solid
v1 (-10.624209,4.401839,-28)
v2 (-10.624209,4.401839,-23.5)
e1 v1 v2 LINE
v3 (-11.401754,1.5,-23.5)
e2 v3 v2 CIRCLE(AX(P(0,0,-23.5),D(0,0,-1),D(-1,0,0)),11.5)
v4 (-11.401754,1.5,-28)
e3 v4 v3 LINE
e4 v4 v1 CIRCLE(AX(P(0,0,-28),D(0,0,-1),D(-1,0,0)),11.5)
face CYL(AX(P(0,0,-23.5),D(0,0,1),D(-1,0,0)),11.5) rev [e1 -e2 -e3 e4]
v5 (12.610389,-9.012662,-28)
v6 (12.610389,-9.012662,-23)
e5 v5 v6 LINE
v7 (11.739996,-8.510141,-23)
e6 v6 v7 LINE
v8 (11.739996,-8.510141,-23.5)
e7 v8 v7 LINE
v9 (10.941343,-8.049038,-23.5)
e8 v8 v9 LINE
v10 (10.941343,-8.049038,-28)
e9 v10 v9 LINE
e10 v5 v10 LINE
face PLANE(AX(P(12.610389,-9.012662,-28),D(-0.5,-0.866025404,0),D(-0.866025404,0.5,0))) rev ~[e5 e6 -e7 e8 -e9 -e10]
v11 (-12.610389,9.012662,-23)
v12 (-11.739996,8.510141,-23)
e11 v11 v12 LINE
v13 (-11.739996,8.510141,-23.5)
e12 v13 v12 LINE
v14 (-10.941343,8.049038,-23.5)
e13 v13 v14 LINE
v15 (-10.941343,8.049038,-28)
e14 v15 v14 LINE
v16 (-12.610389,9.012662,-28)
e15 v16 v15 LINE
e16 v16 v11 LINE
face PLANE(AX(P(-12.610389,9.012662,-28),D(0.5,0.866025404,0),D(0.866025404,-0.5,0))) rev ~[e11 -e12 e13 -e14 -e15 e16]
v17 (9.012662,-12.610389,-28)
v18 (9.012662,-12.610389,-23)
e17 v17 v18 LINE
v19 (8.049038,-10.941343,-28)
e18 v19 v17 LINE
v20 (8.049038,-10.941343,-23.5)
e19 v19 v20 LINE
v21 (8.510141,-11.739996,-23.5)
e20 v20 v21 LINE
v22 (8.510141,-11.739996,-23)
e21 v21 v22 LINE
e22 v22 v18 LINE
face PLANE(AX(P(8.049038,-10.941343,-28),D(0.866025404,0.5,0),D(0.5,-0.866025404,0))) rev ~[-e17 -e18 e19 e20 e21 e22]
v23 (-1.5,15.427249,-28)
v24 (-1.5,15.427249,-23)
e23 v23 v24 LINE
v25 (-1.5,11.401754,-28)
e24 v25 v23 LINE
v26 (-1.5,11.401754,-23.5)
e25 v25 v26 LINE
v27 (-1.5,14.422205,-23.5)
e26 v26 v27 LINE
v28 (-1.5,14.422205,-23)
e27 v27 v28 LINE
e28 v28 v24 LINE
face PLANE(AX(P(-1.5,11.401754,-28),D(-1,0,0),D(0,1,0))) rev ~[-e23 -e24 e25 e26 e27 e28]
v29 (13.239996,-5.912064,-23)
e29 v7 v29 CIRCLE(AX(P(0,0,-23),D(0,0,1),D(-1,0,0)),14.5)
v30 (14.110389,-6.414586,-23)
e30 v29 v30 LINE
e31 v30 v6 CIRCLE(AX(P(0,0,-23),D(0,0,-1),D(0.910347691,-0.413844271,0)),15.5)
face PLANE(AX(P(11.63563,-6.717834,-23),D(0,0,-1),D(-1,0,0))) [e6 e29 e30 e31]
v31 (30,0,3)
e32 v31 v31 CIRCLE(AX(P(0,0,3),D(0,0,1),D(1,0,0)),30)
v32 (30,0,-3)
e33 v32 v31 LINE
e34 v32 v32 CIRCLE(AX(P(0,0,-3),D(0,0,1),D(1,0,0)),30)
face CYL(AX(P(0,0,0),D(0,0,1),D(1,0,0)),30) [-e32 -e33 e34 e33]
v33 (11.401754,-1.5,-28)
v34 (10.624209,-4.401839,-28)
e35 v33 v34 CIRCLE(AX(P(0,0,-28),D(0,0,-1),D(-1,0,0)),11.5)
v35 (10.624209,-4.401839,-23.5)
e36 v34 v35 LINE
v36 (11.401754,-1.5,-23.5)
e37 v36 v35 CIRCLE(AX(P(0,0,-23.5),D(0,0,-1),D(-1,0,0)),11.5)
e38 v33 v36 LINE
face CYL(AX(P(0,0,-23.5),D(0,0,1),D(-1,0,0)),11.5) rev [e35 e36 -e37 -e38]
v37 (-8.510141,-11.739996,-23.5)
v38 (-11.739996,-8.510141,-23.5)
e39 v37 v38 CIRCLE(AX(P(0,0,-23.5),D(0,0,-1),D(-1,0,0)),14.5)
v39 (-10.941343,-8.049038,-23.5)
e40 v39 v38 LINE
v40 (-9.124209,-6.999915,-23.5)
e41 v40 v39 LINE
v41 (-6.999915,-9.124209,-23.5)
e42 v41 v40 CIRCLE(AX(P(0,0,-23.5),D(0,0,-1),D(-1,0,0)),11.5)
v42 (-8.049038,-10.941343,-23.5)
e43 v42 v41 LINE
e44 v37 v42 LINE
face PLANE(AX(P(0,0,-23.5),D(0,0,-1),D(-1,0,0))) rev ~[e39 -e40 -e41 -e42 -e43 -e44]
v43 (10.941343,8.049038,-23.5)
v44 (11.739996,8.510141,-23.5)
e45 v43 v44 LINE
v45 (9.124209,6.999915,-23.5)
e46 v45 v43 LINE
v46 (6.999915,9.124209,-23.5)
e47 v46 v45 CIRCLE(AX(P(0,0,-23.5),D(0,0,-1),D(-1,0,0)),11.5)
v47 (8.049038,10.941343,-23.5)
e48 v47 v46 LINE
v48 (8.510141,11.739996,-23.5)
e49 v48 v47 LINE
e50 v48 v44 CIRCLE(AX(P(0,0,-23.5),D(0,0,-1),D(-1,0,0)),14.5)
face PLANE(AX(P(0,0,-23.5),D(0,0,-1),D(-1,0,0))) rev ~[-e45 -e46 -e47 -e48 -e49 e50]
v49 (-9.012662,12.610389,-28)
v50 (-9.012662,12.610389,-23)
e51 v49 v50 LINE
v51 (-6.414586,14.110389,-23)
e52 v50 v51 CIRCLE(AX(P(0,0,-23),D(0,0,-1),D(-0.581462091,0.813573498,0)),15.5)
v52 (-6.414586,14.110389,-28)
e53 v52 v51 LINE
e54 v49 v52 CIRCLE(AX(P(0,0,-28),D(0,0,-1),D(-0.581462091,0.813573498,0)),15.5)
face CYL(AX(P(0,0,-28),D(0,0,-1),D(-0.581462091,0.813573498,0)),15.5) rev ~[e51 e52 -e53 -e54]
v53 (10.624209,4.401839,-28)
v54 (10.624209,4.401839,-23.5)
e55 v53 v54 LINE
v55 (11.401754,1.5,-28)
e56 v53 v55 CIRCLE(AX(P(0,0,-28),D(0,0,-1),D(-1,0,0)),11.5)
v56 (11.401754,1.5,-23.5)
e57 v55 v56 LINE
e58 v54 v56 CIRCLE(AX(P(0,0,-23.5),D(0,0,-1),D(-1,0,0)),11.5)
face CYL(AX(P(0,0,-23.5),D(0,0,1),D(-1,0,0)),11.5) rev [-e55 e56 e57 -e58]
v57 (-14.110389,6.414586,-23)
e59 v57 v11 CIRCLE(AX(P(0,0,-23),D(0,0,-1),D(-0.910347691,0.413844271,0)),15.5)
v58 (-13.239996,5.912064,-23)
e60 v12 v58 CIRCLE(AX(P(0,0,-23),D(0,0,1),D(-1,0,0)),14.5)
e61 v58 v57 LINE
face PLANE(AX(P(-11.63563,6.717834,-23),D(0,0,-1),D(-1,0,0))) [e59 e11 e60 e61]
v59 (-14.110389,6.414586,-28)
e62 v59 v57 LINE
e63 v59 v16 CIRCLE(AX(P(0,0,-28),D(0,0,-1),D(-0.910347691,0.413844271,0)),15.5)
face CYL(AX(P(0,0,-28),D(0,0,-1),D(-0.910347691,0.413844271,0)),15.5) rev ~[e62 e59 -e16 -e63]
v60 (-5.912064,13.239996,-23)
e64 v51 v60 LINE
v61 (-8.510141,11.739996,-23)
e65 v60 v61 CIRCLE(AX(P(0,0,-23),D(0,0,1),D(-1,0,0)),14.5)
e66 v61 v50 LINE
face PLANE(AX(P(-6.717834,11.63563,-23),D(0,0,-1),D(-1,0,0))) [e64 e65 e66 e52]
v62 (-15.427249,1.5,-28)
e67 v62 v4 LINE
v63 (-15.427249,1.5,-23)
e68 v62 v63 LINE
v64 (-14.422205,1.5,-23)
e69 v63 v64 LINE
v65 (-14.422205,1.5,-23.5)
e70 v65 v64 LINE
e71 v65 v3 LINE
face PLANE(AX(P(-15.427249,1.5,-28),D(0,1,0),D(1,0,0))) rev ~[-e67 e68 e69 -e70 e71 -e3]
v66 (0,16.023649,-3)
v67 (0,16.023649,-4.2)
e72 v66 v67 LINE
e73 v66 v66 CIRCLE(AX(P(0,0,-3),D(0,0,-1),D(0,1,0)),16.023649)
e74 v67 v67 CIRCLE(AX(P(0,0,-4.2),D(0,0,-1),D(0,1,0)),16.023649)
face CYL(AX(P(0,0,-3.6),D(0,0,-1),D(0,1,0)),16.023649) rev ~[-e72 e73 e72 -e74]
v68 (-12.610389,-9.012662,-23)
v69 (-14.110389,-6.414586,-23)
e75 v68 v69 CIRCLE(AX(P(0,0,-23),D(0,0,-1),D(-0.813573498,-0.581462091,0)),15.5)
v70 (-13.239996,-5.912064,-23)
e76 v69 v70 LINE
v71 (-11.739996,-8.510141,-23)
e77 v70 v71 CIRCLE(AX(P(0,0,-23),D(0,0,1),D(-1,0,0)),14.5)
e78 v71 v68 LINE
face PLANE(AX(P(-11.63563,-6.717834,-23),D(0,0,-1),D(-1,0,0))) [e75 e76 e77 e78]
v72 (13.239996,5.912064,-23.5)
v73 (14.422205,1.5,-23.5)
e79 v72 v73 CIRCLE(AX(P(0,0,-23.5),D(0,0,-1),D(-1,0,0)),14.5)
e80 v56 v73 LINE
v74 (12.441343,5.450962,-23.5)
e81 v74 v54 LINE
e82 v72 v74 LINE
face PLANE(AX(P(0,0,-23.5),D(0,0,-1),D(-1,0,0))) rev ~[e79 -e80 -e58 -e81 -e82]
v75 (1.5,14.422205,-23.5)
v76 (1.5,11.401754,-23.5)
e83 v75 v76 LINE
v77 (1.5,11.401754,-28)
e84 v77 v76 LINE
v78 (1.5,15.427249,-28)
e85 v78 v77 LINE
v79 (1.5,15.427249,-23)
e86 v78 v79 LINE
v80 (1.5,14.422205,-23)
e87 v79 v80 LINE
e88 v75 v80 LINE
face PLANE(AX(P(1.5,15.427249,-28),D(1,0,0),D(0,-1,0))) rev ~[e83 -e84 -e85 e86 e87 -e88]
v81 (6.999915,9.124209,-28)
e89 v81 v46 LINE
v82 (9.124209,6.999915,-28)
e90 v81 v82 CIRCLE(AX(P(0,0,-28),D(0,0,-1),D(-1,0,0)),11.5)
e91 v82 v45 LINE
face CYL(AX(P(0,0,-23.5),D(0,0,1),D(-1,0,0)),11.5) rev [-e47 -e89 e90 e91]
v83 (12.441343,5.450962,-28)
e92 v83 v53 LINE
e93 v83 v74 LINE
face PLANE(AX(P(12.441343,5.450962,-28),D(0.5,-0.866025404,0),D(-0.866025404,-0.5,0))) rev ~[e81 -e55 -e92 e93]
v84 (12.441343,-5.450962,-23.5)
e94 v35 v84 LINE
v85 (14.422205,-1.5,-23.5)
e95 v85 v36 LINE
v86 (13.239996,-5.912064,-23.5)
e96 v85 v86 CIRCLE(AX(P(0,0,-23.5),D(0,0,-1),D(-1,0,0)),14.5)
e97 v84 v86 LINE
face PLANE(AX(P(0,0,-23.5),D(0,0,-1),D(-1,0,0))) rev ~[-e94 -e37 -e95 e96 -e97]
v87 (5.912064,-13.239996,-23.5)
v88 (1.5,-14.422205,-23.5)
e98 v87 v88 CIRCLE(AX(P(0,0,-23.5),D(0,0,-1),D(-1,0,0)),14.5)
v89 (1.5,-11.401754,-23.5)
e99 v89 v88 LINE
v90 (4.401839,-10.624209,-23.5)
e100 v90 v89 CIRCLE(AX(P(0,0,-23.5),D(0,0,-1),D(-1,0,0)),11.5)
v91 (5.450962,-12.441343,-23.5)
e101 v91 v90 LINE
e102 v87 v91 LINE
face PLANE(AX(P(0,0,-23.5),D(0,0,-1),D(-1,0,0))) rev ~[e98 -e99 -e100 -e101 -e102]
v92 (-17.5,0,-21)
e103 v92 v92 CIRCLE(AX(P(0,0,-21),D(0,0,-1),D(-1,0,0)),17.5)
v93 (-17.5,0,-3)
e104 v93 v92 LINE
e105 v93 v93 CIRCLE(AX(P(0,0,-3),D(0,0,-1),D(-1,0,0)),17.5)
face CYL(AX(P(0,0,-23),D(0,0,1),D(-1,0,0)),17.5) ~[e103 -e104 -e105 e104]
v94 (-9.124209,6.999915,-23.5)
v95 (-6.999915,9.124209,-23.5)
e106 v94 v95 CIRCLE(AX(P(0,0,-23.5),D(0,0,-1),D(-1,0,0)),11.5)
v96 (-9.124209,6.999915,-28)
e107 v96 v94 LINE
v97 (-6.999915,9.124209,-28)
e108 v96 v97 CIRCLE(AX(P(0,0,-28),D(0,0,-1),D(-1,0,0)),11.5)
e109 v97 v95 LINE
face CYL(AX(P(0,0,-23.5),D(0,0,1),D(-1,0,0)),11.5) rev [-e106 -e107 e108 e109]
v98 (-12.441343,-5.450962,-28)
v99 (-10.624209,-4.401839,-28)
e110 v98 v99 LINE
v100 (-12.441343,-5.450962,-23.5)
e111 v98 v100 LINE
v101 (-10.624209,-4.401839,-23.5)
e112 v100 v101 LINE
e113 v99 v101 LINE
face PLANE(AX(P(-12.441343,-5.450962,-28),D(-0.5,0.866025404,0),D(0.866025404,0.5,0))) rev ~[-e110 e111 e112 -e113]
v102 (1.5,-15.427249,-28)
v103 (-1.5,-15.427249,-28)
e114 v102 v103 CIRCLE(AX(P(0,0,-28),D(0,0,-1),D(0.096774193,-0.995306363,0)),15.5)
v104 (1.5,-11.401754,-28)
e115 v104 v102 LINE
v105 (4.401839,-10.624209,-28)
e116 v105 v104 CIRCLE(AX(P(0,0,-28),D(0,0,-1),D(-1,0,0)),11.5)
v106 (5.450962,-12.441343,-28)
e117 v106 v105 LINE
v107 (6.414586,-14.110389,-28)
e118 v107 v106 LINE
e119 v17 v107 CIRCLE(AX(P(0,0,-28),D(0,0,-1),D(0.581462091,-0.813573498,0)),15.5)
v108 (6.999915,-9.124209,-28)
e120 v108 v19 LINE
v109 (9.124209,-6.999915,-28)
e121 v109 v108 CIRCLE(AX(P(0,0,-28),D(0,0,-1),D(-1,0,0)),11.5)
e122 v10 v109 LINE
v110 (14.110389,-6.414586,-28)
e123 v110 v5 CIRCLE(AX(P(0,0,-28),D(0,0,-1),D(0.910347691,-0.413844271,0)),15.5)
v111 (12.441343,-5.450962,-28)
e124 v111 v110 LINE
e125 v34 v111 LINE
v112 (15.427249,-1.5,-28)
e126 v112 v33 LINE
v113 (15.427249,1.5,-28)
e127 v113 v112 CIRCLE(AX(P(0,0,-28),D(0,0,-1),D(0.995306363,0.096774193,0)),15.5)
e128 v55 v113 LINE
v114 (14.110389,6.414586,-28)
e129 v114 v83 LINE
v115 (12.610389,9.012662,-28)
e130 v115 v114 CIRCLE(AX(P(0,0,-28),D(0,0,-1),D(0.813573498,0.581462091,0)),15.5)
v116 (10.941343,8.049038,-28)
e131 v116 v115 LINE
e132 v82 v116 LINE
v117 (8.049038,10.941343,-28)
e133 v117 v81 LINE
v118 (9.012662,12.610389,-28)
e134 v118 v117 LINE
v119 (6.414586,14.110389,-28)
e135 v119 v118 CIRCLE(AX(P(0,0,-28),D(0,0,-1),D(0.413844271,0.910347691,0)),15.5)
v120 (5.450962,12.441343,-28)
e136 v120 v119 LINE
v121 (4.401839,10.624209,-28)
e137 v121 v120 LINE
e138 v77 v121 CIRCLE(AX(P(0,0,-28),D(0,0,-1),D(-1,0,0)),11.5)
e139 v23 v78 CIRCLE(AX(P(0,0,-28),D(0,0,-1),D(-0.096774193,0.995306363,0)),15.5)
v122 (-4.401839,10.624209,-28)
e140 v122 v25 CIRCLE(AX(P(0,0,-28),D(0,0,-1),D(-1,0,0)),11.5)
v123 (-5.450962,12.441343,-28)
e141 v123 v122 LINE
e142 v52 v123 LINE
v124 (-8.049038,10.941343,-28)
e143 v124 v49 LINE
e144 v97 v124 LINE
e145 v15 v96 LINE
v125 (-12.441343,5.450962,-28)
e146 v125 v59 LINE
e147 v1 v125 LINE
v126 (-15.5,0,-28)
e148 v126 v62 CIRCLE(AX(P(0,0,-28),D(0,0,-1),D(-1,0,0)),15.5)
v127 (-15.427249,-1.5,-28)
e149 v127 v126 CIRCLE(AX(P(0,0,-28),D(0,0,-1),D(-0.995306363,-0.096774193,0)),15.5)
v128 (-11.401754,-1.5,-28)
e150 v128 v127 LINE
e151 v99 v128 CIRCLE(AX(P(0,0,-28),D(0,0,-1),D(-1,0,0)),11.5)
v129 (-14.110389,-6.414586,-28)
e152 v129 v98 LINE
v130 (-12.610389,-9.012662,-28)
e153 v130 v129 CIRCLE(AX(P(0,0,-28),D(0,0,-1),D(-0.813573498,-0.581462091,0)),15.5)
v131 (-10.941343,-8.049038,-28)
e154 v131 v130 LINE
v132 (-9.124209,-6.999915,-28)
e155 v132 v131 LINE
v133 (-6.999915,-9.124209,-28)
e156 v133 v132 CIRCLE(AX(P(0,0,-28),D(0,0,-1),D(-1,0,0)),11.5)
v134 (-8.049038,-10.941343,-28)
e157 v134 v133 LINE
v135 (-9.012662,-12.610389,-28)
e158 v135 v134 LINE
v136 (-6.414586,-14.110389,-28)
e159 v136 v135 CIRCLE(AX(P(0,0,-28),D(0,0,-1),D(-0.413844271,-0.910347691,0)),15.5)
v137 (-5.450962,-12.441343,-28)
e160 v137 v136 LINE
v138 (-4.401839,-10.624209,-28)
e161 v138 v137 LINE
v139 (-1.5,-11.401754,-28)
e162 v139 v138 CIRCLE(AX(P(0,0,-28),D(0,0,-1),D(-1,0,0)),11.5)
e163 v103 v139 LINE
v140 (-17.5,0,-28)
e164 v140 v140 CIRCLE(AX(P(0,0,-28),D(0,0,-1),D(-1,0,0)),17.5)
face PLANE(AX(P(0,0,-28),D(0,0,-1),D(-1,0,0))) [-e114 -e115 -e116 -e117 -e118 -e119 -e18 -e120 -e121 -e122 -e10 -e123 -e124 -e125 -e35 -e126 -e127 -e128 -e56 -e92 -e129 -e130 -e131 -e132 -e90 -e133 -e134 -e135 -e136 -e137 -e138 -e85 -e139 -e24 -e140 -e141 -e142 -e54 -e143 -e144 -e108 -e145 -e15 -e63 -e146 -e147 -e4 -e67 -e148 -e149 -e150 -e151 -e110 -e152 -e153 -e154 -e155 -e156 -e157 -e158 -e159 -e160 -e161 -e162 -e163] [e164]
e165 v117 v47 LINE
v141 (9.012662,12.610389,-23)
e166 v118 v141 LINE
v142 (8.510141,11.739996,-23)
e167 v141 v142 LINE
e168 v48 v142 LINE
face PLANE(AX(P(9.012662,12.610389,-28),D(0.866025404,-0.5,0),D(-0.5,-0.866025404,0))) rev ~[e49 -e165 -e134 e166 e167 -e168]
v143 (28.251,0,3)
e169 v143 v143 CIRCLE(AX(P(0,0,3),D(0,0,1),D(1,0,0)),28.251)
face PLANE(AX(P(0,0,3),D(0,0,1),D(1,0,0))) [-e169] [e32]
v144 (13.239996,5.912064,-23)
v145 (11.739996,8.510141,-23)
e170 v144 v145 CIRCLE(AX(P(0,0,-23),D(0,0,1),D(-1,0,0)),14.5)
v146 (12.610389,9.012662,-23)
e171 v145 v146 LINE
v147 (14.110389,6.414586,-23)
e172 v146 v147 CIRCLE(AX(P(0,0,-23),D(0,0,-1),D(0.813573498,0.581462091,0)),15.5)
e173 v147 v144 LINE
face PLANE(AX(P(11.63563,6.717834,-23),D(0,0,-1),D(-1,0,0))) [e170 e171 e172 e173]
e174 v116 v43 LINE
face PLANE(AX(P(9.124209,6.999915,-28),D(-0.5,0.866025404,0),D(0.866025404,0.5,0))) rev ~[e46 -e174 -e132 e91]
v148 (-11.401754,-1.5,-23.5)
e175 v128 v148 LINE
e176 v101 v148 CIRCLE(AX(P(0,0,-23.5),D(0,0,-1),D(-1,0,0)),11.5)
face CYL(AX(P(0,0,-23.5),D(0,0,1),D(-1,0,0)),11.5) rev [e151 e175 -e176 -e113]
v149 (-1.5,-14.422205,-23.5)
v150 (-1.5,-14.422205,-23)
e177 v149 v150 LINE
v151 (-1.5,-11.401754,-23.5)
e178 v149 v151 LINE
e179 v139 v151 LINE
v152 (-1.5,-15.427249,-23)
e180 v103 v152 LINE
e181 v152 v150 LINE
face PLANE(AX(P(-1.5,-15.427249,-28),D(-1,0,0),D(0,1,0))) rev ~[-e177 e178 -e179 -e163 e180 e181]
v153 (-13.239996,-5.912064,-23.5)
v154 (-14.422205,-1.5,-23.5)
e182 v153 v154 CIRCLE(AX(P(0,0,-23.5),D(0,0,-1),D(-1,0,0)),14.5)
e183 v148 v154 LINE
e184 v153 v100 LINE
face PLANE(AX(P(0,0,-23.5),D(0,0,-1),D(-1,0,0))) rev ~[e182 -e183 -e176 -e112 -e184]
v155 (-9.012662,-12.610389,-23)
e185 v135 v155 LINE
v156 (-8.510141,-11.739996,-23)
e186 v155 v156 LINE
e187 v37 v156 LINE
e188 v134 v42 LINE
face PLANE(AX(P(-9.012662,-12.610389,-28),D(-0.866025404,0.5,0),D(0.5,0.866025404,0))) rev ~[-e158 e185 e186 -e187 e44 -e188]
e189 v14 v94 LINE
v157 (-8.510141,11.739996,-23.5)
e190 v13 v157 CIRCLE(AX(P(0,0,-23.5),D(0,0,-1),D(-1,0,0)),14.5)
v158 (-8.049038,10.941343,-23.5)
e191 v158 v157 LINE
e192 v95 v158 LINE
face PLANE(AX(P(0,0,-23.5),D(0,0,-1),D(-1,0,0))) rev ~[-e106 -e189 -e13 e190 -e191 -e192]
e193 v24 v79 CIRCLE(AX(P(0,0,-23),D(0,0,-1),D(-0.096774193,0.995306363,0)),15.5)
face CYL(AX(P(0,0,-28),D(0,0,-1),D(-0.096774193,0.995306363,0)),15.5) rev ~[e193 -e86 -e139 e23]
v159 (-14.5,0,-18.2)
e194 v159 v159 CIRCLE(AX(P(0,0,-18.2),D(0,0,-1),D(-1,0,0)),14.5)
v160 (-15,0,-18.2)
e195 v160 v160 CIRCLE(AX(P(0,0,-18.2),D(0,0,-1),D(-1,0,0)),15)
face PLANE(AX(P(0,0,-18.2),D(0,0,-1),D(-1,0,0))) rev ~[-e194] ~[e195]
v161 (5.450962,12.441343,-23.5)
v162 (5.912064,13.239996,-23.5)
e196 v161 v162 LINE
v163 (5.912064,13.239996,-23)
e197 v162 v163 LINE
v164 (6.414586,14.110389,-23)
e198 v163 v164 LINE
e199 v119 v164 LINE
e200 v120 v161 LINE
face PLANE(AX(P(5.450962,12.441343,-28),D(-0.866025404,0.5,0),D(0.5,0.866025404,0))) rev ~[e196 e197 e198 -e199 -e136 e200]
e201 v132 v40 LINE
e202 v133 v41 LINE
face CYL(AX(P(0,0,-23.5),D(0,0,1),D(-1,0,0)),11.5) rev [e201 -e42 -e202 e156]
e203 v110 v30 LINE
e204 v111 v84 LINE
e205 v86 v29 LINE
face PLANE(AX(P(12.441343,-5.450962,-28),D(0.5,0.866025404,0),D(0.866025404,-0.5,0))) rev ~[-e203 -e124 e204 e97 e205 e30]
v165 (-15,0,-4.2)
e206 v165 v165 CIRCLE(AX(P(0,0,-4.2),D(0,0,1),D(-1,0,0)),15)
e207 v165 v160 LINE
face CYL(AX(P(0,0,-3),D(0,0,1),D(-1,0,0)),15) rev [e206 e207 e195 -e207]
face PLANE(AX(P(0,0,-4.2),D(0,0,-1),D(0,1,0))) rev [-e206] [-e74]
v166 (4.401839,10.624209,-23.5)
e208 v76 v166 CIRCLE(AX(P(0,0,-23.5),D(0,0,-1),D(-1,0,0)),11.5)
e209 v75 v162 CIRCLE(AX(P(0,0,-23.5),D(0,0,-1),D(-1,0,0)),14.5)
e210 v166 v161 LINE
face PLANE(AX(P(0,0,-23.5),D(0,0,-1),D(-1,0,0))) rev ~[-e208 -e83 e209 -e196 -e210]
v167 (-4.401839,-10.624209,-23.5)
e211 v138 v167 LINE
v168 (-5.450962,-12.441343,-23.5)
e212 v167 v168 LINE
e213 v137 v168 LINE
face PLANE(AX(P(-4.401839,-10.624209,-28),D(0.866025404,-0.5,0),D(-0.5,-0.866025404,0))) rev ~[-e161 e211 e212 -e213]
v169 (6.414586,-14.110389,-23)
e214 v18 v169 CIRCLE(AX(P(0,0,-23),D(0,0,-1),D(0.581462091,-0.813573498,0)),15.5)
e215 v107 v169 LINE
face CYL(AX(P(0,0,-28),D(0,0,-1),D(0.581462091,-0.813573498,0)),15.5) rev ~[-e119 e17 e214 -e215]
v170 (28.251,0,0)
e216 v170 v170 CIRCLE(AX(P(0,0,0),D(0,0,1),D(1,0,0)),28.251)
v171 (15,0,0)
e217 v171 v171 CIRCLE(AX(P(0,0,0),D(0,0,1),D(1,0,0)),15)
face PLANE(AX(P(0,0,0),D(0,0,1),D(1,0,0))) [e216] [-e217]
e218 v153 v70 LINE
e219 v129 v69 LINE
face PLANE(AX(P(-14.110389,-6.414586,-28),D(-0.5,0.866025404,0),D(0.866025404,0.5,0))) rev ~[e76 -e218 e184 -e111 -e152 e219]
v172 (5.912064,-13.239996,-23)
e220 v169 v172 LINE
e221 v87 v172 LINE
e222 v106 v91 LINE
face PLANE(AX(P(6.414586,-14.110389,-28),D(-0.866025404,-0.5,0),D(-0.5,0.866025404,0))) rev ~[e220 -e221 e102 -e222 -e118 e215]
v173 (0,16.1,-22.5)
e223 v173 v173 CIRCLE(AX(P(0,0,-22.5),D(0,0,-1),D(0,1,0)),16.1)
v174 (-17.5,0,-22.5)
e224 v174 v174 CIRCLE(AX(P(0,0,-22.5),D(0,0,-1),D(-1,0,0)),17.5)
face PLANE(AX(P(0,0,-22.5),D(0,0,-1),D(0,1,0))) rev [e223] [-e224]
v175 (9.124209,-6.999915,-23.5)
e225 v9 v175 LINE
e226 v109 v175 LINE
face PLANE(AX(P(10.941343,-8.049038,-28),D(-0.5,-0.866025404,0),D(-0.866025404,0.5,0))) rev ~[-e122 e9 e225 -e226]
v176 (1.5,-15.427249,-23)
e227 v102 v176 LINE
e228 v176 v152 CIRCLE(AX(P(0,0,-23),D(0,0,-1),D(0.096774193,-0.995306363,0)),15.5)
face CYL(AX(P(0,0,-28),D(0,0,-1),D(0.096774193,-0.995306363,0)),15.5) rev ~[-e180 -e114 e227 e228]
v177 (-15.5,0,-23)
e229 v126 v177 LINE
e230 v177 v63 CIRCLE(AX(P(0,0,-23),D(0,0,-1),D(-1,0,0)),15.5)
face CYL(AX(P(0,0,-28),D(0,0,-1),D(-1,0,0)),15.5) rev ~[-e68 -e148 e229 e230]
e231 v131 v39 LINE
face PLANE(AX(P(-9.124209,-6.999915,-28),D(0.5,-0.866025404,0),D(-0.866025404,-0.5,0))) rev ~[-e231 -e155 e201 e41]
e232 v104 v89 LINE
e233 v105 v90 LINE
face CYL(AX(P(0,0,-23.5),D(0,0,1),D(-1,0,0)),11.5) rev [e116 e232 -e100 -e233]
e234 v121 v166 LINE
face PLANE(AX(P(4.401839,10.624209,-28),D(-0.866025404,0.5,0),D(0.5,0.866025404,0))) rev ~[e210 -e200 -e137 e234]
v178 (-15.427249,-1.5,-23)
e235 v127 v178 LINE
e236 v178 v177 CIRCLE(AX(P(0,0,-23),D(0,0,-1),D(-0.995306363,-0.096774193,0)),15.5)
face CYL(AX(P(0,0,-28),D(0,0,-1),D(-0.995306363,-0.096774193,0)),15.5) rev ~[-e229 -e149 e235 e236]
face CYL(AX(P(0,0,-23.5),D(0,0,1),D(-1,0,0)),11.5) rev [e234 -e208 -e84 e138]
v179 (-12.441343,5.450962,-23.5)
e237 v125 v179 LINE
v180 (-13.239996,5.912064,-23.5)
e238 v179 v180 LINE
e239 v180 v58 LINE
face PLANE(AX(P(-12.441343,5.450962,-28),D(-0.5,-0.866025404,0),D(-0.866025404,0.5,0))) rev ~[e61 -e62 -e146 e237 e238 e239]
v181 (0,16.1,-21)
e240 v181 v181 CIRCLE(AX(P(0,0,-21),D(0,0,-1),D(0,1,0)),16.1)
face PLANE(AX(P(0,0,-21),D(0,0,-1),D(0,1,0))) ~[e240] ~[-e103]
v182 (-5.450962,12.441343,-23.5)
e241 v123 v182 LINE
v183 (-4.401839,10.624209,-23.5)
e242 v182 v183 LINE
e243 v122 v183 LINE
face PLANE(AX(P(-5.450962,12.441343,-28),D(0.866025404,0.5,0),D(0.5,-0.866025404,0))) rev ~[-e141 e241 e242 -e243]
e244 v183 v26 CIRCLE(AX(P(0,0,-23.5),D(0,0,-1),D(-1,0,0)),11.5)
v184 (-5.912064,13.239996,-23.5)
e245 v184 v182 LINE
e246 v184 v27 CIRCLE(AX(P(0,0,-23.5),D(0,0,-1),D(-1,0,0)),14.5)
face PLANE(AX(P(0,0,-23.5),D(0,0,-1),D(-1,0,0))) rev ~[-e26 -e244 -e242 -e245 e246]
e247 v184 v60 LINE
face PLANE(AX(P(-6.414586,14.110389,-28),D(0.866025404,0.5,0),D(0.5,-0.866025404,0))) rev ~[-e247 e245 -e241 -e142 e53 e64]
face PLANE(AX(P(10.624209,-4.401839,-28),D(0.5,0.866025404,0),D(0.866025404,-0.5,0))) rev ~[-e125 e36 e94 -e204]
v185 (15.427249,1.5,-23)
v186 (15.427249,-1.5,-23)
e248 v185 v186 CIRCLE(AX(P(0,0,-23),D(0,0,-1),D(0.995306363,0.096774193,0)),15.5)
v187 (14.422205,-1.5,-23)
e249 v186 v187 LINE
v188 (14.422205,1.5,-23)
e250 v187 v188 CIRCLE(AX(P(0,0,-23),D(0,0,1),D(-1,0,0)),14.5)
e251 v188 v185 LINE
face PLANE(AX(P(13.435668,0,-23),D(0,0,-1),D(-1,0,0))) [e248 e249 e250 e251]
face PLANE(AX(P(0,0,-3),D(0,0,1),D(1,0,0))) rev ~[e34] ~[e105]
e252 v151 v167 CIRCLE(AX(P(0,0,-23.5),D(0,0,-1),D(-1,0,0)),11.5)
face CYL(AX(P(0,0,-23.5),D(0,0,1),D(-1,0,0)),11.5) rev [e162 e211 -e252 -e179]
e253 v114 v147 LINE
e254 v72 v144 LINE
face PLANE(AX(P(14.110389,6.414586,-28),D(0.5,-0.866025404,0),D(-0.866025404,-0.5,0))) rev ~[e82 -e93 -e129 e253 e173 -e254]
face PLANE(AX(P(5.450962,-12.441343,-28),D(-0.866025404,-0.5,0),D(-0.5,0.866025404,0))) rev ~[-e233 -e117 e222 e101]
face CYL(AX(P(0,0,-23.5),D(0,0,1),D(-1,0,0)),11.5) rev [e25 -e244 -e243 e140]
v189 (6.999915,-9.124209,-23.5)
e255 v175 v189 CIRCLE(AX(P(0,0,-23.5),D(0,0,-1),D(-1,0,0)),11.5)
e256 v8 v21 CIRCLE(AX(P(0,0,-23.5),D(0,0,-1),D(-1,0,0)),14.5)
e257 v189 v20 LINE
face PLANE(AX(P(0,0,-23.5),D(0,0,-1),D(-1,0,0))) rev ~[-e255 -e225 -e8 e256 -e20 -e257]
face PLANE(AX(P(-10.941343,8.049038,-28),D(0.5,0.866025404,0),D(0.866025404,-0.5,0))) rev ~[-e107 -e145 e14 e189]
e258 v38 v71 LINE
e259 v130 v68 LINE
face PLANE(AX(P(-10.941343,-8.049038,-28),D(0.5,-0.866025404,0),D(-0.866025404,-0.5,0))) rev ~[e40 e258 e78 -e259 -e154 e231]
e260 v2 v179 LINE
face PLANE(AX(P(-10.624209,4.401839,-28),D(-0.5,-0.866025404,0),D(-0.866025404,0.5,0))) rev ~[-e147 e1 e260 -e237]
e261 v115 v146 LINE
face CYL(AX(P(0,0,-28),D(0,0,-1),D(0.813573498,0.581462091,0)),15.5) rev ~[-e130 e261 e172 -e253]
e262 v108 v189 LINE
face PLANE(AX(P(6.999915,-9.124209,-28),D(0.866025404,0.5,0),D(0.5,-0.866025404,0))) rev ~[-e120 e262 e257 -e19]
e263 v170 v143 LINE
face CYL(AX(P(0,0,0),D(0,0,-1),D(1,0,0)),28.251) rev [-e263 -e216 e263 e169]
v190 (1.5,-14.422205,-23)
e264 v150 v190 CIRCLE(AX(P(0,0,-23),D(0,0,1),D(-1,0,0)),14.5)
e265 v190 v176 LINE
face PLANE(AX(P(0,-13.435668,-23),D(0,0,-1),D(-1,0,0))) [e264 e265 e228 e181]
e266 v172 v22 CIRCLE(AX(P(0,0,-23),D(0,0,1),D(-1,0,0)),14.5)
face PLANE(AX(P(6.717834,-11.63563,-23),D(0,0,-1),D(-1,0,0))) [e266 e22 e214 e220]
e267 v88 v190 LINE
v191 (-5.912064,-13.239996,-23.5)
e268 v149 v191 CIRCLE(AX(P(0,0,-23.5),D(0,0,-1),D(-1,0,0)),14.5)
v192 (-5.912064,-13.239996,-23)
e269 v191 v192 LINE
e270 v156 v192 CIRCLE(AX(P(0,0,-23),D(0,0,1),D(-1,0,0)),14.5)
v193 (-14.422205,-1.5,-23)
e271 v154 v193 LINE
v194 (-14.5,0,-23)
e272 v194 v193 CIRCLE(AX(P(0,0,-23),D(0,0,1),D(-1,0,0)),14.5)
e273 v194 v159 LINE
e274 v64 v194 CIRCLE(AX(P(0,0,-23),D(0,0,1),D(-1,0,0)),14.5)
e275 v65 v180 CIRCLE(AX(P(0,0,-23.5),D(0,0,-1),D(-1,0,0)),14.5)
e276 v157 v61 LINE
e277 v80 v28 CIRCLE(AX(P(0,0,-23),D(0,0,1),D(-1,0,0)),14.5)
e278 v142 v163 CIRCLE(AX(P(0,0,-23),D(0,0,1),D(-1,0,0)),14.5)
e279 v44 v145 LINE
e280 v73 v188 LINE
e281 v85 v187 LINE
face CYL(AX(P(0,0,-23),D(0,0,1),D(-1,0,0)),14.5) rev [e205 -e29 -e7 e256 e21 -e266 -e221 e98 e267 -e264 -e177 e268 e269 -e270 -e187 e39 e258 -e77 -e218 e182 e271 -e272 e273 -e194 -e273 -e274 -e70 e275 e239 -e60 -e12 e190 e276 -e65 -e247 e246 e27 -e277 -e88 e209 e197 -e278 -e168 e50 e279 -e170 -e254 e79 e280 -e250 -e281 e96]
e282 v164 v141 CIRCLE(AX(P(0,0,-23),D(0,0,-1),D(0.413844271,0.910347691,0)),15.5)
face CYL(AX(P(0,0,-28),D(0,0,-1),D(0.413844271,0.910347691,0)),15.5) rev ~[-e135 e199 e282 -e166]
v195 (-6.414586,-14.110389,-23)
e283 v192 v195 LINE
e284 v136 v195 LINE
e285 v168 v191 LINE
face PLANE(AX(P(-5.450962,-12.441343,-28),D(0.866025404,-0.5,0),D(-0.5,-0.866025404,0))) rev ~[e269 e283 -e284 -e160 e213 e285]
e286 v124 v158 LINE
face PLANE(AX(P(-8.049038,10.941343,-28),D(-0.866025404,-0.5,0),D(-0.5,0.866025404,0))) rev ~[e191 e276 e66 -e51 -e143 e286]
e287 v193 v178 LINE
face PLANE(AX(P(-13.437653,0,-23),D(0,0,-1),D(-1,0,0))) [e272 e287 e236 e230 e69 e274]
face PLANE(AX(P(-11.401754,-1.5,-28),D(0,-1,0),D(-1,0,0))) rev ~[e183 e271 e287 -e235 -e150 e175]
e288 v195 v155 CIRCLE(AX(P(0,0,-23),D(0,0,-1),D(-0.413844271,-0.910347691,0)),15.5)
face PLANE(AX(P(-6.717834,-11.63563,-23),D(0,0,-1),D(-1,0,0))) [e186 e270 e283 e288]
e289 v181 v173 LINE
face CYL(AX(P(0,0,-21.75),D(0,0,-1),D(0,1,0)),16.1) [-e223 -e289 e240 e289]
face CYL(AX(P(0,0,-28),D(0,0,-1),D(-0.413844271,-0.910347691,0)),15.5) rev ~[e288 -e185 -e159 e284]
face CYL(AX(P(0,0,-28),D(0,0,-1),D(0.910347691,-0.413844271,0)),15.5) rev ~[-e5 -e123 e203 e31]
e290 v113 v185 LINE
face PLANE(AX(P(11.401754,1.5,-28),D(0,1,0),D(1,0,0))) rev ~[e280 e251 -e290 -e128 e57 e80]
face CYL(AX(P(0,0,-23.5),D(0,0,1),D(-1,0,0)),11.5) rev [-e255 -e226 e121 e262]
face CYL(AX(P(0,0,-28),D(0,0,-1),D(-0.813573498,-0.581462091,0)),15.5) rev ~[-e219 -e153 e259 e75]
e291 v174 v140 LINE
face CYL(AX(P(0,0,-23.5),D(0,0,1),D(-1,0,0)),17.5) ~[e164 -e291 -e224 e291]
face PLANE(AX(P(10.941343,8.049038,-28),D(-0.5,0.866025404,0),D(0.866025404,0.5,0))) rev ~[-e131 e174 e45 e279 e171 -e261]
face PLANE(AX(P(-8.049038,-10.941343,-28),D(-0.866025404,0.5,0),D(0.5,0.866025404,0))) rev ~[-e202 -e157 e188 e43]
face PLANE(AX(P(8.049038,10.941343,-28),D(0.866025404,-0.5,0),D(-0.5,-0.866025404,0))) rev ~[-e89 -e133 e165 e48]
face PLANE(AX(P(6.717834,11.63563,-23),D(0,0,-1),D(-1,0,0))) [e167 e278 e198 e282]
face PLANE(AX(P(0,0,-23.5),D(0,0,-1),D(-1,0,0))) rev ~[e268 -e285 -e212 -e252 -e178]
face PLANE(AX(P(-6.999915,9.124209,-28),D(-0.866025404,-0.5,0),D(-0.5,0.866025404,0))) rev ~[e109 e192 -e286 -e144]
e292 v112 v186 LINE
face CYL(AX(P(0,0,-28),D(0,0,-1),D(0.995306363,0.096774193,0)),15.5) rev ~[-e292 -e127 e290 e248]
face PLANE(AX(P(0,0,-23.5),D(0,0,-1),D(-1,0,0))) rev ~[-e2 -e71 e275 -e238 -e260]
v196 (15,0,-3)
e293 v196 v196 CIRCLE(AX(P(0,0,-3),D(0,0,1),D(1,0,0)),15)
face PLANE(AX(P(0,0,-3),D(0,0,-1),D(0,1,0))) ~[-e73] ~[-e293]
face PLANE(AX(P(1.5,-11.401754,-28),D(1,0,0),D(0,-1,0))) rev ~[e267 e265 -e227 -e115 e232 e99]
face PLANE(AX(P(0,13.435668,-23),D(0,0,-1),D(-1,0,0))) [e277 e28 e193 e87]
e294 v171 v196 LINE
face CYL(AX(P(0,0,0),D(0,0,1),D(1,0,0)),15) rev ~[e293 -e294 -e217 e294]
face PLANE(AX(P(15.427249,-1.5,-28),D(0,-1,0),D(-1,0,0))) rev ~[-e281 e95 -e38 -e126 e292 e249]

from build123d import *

# Parameters (mm, degrees)
SKETCH_1_R          = 30
SKETCH_1_R_2        = 28.251
EXTRUDE_1_DEPTH     = 3
SKETCH_2_R          = 30
SKETCH_2_R_2        = 15
EXTRUDE_2_DEPTH     = 3
SKETCH_4_R          = 17.5
SKETCH_4_R_2        = 15
EXTRUDE_3_DEPTH     = 20
SKETCH_5_R          = 17.5
SKETCH_5_R_2        = 14.5
EXTRUDE_4_DEPTH     = 0.5
SKETCH_6_W          = 1.5
SKETCH_6_H          = 1.4
SKETCH_7_W          = 1.2
SKETCH_7_H          = 1.05
SKETCH_8_R          = 15
SKETCH_8_R_2        = 14.5
EXTRUDE_5_DEPTH     = 4.8
SKETCH_9_R          = 17.5
SKETCH_9_R_2        = 11.5
EXTRUDE_6_DEPTH     = 4.5
CUT_EXTRUDE_1_DEPTH = 5


with BuildPart() as part:
    # 草图1 → 凸台-拉伸1 (new body)
    with BuildSketch(Plane.XY):
        Circle(SKETCH_1_R)
        Circle(SKETCH_1_R_2, mode=Mode.SUBTRACT)
    extrude(amount=EXTRUDE_1_DEPTH)

    # 草图2 → 凸台-拉伸2 (add)
    with BuildSketch(Plane.XY):
        Circle(SKETCH_2_R)
        Circle(SKETCH_2_R_2, mode=Mode.SUBTRACT)
    extrude(amount=-EXTRUDE_2_DEPTH)

    # 草图4 → 凸台-拉伸3 (add)
    with BuildSketch(Plane(origin=(0, 0, -3), x_dir=(-1, 0, 0), z_dir=(0, 0, -1))):
        Circle(SKETCH_4_R)
        Circle(SKETCH_4_R_2, mode=Mode.SUBTRACT)
    extrude(amount=EXTRUDE_3_DEPTH)

    # 草图5 → 凸台-拉伸4 (add)
    with BuildSketch(Plane(origin=(0, 0, -23), x_dir=(-1, 0, 0), z_dir=(0, 0, -1))):
        Circle(SKETCH_5_R)
        Circle(SKETCH_5_R_2, mode=Mode.SUBTRACT)
    extrude(amount=EXTRUDE_4_DEPTH)

    # 草图6 → 切除-旋转1 (revolve, cut)
    with BuildSketch(Plane(origin=(0, 0, 0), x_dir=(0, 0, -1), z_dir=(1, 0, 0))):
        with Locations((21.75, 16.8)):
            Rectangle(SKETCH_6_W, SKETCH_6_H)
    revolve(axis=Axis((0, 0, 3), (0, 0, -1)), mode=Mode.SUBTRACT)

    # 草图7 → 切除-旋转2 (revolve, cut)
    with BuildSketch(Plane(origin=(0, 0, 0), x_dir=(0, 0, -1), z_dir=(1, 0, 0))):
        with Locations((3.6, 15.498648932)):
            Rectangle(SKETCH_7_W, SKETCH_7_H)
    revolve(axis=Axis((0, 0, 3), (0, 0, -1)), mode=Mode.SUBTRACT)

    # 草图8 → 凸台-拉伸5 (add)
    with BuildSketch(Plane(origin=(0, 0, -23), x_dir=(-1, 0, 0), z_dir=(0, 0, -1))):
        Circle(SKETCH_8_R)
        Circle(SKETCH_8_R_2, mode=Mode.SUBTRACT)
    extrude(amount=-EXTRUDE_5_DEPTH)

    # 草图9 → 凸台-拉伸6 (add)
    with BuildSketch(Plane(origin=(0, 0, -23.5), x_dir=(-1, 0, 0), z_dir=(0, 0, -1))):
        Circle(SKETCH_9_R)
        Circle(SKETCH_9_R_2, mode=Mode.SUBTRACT)
    extrude(amount=EXTRUDE_6_DEPTH)

    # 草图10 → 切除-拉伸1 (cut)
    with BuildSketch(Plane(origin=(0, 0, -28), x_dir=(-1, 0, 0), z_dir=(0, 0, -1))):
        with BuildLine():
            ThreePointArc((-1.5, 11.401754251), (0, 11.5), (1.5, 11.401754251))
            Line((1.5, 11.401754251), (1.5, 13.5))
            Line((1.5, 13.5), (1.5, 15.427248621))
            ThreePointArc((1.5, 15.427248621), (0, 15.5), (-1.5, 15.427248621))
            Line((-1.5, 15.427248621), (-1.5, 13.5))
            Line((-1.5, 13.5), (-1.5, 11.401754251))
        make_face()
        with BuildLine():
            Line((6.414586205, 14.110389216), (5.450961894, 12.441342951))
            Line((5.450961894, 12.441342951), (4.40183902, 10.624208829))
            ThreePointArc((4.40183902, 10.624208829), (5.75, 9.959292144), (6.999915231, 9.124208829))
            Line((6.999915231, 9.124208829), (8.049038106, 10.941342951))
            Line((8.049038106, 10.941342951), (9.012662416, 12.610389216))
            ThreePointArc((9.012662416, 12.610389216), (7.75, 13.423393759), (6.414586205, 14.110389216))
        make_face()
        with BuildLine():
            Line((10.941342951, 8.049038106), (9.124208829, 6.999915231))
            ThreePointArc((9.124208829, 6.999915231), (9.959292144, 5.75), (10.624208829, 4.40183902))
            Line((10.624208829, 4.40183902), (12.441342951, 5.450961894))
            Line((12.441342951, 5.450961894), (14.110389216, 6.414586205))
            ThreePointArc((14.110389216, 6.414586205), (13.423393759, 7.75), (12.610389216, 9.012662416))
            Line((12.610389216, 9.012662416), (10.941342951, 8.049038106))
        make_face()
        with BuildLine():
            Line((13.5, 1.5), (11.401754251, 1.5))
            ThreePointArc((11.401754251, 1.5), (11.475412278, 0.751606983), (11.5, 0))
            ThreePointArc((11.5, 0), (11.475412278, -0.751606983), (11.401754251, -1.5))
            Line((11.401754251, -1.5), (13.5, -1.5))
            Line((13.5, -1.5), (15.427248621, -1.5))
            ThreePointArc((15.427248621, -1.5), (15.481801472, -0.750881609), (15.5, 0))
            ThreePointArc((15.5, 0), (15.481801472, 0.750881609), (15.427248621, 1.5))
            Line((15.427248621, 1.5), (13.5, 1.5))
        make_face()
        with BuildLine():
            Line((12.441342951, -5.450961894), (10.624208829, -4.40183902))
            ThreePointArc((10.624208829, -4.40183902), (9.959292144, -5.75), (9.124208829, -6.999915231))
            Line((9.124208829, -6.999915231), (10.941342951, -8.049038106))
            Line((10.941342951, -8.049038106), (12.610389216, -9.012662416))
            ThreePointArc((12.610389216, -9.012662416), (13.423393759, -7.75), (14.110389216, -6.414586205))
            Line((14.110389216, -6.414586205), (12.441342951, -5.450961894))
        make_face()
        with BuildLine():
            Line((8.049038106, -10.941342951), (6.999915231, -9.124208829))
            ThreePointArc((6.999915231, -9.124208829), (5.75, -9.959292144), (4.40183902, -10.624208829))
            Line((4.40183902, -10.624208829), (5.450961894, -12.441342951))
            Line((5.450961894, -12.441342951), (6.414586205, -14.110389216))
            ThreePointArc((6.414586205, -14.110389216), (7.75, -13.423393759), (9.012662416, -12.610389216))
            Line((9.012662416, -12.610389216), (8.049038106, -10.941342951))
        make_face()
        with BuildLine():
            Line((1.5, -13.5), (1.5, -11.401754251))
            ThreePointArc((1.5, -11.401754251), (0, -11.5), (-1.5, -11.401754251))
            Line((-1.5, -11.401754251), (-1.5, -13.5))
            Line((-1.5, -13.5), (-1.5, -15.427248621))
            ThreePointArc((-1.5, -15.427248621), (0, -15.5), (1.5, -15.427248621))
            Line((1.5, -15.427248621), (1.5, -13.5))
        make_face()
        with BuildLine():
            ThreePointArc((-4.40183902, -10.624208829), (-5.75, -9.959292144), (-6.999915231, -9.124208829))
            Line((-6.999915231, -9.124208829), (-8.049038106, -10.941342951))
            Line((-8.049038106, -10.941342951), (-9.012662416, -12.610389216))
            ThreePointArc((-9.012662416, -12.610389216), (-7.75, -13.423393759), (-6.414586205, -14.110389216))
            Line((-6.414586205, -14.110389216), (-5.450961894, -12.441342951))
            Line((-5.450961894, -12.441342951), (-4.40183902, -10.624208829))
        make_face()
        with BuildLine():
            ThreePointArc((-9.124208829, -6.999915231), (-9.959292144, -5.75), (-10.624208829, -4.40183902))
            Line((-10.624208829, -4.40183902), (-12.441342951, -5.450961894))
            Line((-12.441342951, -5.450961894), (-14.110389216, -6.414586205))
            ThreePointArc((-14.110389216, -6.414586205), (-13.423393759, -7.75), (-12.610389216, -9.012662416))
            Line((-12.610389216, -9.012662416), (-10.941342951, -8.049038106))
            Line((-10.941342951, -8.049038106), (-9.124208829, -6.999915231))
        make_face()
        with BuildLine():
            ThreePointArc((-11.401754251, -1.5), (-11.5, 0), (-11.401754251, 1.5))
            Line((-11.401754251, 1.5), (-13.5, 1.5))
            Line((-13.5, 1.5), (-15.427248621, 1.5))
            ThreePointArc((-15.427248621, 1.5), (-15.5, 0), (-15.427248621, -1.5))
            Line((-15.427248621, -1.5), (-13.5, -1.5))
            Line((-13.5, -1.5), (-11.401754251, -1.5))
        make_face()
        with BuildLine():
            ThreePointArc((-10.624208829, 4.40183902), (-9.959292144, 5.75), (-9.124208829, 6.999915231))
            Line((-9.124208829, 6.999915231), (-10.941342951, 8.049038106))
            Line((-10.941342951, 8.049038106), (-12.610389216, 9.012662416))
            ThreePointArc((-12.610389216, 9.012662416), (-13.423393759, 7.75), (-14.110389216, 6.414586205))
            Line((-14.110389216, 6.414586205), (-12.441342951, 5.450961894))
            Line((-12.441342951, 5.450961894), (-10.624208829, 4.40183902))
        make_face()
        with BuildLine():
            ThreePointArc((-6.999915231, 9.124208829), (-5.75, 9.959292144), (-4.40183902, 10.624208829))
            Line((-4.40183902, 10.624208829), (-5.450961894, 12.441342951))
            Line((-5.450961894, 12.441342951), (-6.414586205, 14.110389216))
            ThreePointArc((-6.414586205, 14.110389216), (-7.75, 13.423393759), (-9.012662416, 12.610389216))
            Line((-9.012662416, 12.610389216), (-8.049038106, 10.941342951))
            Line((-8.049038106, 10.941342951), (-6.999915231, 9.124208829))
        make_face()
    extrude(amount=-CUT_EXTRUDE_1_DEPTH, mode=Mode.SUBTRACT)


solid = part.part
